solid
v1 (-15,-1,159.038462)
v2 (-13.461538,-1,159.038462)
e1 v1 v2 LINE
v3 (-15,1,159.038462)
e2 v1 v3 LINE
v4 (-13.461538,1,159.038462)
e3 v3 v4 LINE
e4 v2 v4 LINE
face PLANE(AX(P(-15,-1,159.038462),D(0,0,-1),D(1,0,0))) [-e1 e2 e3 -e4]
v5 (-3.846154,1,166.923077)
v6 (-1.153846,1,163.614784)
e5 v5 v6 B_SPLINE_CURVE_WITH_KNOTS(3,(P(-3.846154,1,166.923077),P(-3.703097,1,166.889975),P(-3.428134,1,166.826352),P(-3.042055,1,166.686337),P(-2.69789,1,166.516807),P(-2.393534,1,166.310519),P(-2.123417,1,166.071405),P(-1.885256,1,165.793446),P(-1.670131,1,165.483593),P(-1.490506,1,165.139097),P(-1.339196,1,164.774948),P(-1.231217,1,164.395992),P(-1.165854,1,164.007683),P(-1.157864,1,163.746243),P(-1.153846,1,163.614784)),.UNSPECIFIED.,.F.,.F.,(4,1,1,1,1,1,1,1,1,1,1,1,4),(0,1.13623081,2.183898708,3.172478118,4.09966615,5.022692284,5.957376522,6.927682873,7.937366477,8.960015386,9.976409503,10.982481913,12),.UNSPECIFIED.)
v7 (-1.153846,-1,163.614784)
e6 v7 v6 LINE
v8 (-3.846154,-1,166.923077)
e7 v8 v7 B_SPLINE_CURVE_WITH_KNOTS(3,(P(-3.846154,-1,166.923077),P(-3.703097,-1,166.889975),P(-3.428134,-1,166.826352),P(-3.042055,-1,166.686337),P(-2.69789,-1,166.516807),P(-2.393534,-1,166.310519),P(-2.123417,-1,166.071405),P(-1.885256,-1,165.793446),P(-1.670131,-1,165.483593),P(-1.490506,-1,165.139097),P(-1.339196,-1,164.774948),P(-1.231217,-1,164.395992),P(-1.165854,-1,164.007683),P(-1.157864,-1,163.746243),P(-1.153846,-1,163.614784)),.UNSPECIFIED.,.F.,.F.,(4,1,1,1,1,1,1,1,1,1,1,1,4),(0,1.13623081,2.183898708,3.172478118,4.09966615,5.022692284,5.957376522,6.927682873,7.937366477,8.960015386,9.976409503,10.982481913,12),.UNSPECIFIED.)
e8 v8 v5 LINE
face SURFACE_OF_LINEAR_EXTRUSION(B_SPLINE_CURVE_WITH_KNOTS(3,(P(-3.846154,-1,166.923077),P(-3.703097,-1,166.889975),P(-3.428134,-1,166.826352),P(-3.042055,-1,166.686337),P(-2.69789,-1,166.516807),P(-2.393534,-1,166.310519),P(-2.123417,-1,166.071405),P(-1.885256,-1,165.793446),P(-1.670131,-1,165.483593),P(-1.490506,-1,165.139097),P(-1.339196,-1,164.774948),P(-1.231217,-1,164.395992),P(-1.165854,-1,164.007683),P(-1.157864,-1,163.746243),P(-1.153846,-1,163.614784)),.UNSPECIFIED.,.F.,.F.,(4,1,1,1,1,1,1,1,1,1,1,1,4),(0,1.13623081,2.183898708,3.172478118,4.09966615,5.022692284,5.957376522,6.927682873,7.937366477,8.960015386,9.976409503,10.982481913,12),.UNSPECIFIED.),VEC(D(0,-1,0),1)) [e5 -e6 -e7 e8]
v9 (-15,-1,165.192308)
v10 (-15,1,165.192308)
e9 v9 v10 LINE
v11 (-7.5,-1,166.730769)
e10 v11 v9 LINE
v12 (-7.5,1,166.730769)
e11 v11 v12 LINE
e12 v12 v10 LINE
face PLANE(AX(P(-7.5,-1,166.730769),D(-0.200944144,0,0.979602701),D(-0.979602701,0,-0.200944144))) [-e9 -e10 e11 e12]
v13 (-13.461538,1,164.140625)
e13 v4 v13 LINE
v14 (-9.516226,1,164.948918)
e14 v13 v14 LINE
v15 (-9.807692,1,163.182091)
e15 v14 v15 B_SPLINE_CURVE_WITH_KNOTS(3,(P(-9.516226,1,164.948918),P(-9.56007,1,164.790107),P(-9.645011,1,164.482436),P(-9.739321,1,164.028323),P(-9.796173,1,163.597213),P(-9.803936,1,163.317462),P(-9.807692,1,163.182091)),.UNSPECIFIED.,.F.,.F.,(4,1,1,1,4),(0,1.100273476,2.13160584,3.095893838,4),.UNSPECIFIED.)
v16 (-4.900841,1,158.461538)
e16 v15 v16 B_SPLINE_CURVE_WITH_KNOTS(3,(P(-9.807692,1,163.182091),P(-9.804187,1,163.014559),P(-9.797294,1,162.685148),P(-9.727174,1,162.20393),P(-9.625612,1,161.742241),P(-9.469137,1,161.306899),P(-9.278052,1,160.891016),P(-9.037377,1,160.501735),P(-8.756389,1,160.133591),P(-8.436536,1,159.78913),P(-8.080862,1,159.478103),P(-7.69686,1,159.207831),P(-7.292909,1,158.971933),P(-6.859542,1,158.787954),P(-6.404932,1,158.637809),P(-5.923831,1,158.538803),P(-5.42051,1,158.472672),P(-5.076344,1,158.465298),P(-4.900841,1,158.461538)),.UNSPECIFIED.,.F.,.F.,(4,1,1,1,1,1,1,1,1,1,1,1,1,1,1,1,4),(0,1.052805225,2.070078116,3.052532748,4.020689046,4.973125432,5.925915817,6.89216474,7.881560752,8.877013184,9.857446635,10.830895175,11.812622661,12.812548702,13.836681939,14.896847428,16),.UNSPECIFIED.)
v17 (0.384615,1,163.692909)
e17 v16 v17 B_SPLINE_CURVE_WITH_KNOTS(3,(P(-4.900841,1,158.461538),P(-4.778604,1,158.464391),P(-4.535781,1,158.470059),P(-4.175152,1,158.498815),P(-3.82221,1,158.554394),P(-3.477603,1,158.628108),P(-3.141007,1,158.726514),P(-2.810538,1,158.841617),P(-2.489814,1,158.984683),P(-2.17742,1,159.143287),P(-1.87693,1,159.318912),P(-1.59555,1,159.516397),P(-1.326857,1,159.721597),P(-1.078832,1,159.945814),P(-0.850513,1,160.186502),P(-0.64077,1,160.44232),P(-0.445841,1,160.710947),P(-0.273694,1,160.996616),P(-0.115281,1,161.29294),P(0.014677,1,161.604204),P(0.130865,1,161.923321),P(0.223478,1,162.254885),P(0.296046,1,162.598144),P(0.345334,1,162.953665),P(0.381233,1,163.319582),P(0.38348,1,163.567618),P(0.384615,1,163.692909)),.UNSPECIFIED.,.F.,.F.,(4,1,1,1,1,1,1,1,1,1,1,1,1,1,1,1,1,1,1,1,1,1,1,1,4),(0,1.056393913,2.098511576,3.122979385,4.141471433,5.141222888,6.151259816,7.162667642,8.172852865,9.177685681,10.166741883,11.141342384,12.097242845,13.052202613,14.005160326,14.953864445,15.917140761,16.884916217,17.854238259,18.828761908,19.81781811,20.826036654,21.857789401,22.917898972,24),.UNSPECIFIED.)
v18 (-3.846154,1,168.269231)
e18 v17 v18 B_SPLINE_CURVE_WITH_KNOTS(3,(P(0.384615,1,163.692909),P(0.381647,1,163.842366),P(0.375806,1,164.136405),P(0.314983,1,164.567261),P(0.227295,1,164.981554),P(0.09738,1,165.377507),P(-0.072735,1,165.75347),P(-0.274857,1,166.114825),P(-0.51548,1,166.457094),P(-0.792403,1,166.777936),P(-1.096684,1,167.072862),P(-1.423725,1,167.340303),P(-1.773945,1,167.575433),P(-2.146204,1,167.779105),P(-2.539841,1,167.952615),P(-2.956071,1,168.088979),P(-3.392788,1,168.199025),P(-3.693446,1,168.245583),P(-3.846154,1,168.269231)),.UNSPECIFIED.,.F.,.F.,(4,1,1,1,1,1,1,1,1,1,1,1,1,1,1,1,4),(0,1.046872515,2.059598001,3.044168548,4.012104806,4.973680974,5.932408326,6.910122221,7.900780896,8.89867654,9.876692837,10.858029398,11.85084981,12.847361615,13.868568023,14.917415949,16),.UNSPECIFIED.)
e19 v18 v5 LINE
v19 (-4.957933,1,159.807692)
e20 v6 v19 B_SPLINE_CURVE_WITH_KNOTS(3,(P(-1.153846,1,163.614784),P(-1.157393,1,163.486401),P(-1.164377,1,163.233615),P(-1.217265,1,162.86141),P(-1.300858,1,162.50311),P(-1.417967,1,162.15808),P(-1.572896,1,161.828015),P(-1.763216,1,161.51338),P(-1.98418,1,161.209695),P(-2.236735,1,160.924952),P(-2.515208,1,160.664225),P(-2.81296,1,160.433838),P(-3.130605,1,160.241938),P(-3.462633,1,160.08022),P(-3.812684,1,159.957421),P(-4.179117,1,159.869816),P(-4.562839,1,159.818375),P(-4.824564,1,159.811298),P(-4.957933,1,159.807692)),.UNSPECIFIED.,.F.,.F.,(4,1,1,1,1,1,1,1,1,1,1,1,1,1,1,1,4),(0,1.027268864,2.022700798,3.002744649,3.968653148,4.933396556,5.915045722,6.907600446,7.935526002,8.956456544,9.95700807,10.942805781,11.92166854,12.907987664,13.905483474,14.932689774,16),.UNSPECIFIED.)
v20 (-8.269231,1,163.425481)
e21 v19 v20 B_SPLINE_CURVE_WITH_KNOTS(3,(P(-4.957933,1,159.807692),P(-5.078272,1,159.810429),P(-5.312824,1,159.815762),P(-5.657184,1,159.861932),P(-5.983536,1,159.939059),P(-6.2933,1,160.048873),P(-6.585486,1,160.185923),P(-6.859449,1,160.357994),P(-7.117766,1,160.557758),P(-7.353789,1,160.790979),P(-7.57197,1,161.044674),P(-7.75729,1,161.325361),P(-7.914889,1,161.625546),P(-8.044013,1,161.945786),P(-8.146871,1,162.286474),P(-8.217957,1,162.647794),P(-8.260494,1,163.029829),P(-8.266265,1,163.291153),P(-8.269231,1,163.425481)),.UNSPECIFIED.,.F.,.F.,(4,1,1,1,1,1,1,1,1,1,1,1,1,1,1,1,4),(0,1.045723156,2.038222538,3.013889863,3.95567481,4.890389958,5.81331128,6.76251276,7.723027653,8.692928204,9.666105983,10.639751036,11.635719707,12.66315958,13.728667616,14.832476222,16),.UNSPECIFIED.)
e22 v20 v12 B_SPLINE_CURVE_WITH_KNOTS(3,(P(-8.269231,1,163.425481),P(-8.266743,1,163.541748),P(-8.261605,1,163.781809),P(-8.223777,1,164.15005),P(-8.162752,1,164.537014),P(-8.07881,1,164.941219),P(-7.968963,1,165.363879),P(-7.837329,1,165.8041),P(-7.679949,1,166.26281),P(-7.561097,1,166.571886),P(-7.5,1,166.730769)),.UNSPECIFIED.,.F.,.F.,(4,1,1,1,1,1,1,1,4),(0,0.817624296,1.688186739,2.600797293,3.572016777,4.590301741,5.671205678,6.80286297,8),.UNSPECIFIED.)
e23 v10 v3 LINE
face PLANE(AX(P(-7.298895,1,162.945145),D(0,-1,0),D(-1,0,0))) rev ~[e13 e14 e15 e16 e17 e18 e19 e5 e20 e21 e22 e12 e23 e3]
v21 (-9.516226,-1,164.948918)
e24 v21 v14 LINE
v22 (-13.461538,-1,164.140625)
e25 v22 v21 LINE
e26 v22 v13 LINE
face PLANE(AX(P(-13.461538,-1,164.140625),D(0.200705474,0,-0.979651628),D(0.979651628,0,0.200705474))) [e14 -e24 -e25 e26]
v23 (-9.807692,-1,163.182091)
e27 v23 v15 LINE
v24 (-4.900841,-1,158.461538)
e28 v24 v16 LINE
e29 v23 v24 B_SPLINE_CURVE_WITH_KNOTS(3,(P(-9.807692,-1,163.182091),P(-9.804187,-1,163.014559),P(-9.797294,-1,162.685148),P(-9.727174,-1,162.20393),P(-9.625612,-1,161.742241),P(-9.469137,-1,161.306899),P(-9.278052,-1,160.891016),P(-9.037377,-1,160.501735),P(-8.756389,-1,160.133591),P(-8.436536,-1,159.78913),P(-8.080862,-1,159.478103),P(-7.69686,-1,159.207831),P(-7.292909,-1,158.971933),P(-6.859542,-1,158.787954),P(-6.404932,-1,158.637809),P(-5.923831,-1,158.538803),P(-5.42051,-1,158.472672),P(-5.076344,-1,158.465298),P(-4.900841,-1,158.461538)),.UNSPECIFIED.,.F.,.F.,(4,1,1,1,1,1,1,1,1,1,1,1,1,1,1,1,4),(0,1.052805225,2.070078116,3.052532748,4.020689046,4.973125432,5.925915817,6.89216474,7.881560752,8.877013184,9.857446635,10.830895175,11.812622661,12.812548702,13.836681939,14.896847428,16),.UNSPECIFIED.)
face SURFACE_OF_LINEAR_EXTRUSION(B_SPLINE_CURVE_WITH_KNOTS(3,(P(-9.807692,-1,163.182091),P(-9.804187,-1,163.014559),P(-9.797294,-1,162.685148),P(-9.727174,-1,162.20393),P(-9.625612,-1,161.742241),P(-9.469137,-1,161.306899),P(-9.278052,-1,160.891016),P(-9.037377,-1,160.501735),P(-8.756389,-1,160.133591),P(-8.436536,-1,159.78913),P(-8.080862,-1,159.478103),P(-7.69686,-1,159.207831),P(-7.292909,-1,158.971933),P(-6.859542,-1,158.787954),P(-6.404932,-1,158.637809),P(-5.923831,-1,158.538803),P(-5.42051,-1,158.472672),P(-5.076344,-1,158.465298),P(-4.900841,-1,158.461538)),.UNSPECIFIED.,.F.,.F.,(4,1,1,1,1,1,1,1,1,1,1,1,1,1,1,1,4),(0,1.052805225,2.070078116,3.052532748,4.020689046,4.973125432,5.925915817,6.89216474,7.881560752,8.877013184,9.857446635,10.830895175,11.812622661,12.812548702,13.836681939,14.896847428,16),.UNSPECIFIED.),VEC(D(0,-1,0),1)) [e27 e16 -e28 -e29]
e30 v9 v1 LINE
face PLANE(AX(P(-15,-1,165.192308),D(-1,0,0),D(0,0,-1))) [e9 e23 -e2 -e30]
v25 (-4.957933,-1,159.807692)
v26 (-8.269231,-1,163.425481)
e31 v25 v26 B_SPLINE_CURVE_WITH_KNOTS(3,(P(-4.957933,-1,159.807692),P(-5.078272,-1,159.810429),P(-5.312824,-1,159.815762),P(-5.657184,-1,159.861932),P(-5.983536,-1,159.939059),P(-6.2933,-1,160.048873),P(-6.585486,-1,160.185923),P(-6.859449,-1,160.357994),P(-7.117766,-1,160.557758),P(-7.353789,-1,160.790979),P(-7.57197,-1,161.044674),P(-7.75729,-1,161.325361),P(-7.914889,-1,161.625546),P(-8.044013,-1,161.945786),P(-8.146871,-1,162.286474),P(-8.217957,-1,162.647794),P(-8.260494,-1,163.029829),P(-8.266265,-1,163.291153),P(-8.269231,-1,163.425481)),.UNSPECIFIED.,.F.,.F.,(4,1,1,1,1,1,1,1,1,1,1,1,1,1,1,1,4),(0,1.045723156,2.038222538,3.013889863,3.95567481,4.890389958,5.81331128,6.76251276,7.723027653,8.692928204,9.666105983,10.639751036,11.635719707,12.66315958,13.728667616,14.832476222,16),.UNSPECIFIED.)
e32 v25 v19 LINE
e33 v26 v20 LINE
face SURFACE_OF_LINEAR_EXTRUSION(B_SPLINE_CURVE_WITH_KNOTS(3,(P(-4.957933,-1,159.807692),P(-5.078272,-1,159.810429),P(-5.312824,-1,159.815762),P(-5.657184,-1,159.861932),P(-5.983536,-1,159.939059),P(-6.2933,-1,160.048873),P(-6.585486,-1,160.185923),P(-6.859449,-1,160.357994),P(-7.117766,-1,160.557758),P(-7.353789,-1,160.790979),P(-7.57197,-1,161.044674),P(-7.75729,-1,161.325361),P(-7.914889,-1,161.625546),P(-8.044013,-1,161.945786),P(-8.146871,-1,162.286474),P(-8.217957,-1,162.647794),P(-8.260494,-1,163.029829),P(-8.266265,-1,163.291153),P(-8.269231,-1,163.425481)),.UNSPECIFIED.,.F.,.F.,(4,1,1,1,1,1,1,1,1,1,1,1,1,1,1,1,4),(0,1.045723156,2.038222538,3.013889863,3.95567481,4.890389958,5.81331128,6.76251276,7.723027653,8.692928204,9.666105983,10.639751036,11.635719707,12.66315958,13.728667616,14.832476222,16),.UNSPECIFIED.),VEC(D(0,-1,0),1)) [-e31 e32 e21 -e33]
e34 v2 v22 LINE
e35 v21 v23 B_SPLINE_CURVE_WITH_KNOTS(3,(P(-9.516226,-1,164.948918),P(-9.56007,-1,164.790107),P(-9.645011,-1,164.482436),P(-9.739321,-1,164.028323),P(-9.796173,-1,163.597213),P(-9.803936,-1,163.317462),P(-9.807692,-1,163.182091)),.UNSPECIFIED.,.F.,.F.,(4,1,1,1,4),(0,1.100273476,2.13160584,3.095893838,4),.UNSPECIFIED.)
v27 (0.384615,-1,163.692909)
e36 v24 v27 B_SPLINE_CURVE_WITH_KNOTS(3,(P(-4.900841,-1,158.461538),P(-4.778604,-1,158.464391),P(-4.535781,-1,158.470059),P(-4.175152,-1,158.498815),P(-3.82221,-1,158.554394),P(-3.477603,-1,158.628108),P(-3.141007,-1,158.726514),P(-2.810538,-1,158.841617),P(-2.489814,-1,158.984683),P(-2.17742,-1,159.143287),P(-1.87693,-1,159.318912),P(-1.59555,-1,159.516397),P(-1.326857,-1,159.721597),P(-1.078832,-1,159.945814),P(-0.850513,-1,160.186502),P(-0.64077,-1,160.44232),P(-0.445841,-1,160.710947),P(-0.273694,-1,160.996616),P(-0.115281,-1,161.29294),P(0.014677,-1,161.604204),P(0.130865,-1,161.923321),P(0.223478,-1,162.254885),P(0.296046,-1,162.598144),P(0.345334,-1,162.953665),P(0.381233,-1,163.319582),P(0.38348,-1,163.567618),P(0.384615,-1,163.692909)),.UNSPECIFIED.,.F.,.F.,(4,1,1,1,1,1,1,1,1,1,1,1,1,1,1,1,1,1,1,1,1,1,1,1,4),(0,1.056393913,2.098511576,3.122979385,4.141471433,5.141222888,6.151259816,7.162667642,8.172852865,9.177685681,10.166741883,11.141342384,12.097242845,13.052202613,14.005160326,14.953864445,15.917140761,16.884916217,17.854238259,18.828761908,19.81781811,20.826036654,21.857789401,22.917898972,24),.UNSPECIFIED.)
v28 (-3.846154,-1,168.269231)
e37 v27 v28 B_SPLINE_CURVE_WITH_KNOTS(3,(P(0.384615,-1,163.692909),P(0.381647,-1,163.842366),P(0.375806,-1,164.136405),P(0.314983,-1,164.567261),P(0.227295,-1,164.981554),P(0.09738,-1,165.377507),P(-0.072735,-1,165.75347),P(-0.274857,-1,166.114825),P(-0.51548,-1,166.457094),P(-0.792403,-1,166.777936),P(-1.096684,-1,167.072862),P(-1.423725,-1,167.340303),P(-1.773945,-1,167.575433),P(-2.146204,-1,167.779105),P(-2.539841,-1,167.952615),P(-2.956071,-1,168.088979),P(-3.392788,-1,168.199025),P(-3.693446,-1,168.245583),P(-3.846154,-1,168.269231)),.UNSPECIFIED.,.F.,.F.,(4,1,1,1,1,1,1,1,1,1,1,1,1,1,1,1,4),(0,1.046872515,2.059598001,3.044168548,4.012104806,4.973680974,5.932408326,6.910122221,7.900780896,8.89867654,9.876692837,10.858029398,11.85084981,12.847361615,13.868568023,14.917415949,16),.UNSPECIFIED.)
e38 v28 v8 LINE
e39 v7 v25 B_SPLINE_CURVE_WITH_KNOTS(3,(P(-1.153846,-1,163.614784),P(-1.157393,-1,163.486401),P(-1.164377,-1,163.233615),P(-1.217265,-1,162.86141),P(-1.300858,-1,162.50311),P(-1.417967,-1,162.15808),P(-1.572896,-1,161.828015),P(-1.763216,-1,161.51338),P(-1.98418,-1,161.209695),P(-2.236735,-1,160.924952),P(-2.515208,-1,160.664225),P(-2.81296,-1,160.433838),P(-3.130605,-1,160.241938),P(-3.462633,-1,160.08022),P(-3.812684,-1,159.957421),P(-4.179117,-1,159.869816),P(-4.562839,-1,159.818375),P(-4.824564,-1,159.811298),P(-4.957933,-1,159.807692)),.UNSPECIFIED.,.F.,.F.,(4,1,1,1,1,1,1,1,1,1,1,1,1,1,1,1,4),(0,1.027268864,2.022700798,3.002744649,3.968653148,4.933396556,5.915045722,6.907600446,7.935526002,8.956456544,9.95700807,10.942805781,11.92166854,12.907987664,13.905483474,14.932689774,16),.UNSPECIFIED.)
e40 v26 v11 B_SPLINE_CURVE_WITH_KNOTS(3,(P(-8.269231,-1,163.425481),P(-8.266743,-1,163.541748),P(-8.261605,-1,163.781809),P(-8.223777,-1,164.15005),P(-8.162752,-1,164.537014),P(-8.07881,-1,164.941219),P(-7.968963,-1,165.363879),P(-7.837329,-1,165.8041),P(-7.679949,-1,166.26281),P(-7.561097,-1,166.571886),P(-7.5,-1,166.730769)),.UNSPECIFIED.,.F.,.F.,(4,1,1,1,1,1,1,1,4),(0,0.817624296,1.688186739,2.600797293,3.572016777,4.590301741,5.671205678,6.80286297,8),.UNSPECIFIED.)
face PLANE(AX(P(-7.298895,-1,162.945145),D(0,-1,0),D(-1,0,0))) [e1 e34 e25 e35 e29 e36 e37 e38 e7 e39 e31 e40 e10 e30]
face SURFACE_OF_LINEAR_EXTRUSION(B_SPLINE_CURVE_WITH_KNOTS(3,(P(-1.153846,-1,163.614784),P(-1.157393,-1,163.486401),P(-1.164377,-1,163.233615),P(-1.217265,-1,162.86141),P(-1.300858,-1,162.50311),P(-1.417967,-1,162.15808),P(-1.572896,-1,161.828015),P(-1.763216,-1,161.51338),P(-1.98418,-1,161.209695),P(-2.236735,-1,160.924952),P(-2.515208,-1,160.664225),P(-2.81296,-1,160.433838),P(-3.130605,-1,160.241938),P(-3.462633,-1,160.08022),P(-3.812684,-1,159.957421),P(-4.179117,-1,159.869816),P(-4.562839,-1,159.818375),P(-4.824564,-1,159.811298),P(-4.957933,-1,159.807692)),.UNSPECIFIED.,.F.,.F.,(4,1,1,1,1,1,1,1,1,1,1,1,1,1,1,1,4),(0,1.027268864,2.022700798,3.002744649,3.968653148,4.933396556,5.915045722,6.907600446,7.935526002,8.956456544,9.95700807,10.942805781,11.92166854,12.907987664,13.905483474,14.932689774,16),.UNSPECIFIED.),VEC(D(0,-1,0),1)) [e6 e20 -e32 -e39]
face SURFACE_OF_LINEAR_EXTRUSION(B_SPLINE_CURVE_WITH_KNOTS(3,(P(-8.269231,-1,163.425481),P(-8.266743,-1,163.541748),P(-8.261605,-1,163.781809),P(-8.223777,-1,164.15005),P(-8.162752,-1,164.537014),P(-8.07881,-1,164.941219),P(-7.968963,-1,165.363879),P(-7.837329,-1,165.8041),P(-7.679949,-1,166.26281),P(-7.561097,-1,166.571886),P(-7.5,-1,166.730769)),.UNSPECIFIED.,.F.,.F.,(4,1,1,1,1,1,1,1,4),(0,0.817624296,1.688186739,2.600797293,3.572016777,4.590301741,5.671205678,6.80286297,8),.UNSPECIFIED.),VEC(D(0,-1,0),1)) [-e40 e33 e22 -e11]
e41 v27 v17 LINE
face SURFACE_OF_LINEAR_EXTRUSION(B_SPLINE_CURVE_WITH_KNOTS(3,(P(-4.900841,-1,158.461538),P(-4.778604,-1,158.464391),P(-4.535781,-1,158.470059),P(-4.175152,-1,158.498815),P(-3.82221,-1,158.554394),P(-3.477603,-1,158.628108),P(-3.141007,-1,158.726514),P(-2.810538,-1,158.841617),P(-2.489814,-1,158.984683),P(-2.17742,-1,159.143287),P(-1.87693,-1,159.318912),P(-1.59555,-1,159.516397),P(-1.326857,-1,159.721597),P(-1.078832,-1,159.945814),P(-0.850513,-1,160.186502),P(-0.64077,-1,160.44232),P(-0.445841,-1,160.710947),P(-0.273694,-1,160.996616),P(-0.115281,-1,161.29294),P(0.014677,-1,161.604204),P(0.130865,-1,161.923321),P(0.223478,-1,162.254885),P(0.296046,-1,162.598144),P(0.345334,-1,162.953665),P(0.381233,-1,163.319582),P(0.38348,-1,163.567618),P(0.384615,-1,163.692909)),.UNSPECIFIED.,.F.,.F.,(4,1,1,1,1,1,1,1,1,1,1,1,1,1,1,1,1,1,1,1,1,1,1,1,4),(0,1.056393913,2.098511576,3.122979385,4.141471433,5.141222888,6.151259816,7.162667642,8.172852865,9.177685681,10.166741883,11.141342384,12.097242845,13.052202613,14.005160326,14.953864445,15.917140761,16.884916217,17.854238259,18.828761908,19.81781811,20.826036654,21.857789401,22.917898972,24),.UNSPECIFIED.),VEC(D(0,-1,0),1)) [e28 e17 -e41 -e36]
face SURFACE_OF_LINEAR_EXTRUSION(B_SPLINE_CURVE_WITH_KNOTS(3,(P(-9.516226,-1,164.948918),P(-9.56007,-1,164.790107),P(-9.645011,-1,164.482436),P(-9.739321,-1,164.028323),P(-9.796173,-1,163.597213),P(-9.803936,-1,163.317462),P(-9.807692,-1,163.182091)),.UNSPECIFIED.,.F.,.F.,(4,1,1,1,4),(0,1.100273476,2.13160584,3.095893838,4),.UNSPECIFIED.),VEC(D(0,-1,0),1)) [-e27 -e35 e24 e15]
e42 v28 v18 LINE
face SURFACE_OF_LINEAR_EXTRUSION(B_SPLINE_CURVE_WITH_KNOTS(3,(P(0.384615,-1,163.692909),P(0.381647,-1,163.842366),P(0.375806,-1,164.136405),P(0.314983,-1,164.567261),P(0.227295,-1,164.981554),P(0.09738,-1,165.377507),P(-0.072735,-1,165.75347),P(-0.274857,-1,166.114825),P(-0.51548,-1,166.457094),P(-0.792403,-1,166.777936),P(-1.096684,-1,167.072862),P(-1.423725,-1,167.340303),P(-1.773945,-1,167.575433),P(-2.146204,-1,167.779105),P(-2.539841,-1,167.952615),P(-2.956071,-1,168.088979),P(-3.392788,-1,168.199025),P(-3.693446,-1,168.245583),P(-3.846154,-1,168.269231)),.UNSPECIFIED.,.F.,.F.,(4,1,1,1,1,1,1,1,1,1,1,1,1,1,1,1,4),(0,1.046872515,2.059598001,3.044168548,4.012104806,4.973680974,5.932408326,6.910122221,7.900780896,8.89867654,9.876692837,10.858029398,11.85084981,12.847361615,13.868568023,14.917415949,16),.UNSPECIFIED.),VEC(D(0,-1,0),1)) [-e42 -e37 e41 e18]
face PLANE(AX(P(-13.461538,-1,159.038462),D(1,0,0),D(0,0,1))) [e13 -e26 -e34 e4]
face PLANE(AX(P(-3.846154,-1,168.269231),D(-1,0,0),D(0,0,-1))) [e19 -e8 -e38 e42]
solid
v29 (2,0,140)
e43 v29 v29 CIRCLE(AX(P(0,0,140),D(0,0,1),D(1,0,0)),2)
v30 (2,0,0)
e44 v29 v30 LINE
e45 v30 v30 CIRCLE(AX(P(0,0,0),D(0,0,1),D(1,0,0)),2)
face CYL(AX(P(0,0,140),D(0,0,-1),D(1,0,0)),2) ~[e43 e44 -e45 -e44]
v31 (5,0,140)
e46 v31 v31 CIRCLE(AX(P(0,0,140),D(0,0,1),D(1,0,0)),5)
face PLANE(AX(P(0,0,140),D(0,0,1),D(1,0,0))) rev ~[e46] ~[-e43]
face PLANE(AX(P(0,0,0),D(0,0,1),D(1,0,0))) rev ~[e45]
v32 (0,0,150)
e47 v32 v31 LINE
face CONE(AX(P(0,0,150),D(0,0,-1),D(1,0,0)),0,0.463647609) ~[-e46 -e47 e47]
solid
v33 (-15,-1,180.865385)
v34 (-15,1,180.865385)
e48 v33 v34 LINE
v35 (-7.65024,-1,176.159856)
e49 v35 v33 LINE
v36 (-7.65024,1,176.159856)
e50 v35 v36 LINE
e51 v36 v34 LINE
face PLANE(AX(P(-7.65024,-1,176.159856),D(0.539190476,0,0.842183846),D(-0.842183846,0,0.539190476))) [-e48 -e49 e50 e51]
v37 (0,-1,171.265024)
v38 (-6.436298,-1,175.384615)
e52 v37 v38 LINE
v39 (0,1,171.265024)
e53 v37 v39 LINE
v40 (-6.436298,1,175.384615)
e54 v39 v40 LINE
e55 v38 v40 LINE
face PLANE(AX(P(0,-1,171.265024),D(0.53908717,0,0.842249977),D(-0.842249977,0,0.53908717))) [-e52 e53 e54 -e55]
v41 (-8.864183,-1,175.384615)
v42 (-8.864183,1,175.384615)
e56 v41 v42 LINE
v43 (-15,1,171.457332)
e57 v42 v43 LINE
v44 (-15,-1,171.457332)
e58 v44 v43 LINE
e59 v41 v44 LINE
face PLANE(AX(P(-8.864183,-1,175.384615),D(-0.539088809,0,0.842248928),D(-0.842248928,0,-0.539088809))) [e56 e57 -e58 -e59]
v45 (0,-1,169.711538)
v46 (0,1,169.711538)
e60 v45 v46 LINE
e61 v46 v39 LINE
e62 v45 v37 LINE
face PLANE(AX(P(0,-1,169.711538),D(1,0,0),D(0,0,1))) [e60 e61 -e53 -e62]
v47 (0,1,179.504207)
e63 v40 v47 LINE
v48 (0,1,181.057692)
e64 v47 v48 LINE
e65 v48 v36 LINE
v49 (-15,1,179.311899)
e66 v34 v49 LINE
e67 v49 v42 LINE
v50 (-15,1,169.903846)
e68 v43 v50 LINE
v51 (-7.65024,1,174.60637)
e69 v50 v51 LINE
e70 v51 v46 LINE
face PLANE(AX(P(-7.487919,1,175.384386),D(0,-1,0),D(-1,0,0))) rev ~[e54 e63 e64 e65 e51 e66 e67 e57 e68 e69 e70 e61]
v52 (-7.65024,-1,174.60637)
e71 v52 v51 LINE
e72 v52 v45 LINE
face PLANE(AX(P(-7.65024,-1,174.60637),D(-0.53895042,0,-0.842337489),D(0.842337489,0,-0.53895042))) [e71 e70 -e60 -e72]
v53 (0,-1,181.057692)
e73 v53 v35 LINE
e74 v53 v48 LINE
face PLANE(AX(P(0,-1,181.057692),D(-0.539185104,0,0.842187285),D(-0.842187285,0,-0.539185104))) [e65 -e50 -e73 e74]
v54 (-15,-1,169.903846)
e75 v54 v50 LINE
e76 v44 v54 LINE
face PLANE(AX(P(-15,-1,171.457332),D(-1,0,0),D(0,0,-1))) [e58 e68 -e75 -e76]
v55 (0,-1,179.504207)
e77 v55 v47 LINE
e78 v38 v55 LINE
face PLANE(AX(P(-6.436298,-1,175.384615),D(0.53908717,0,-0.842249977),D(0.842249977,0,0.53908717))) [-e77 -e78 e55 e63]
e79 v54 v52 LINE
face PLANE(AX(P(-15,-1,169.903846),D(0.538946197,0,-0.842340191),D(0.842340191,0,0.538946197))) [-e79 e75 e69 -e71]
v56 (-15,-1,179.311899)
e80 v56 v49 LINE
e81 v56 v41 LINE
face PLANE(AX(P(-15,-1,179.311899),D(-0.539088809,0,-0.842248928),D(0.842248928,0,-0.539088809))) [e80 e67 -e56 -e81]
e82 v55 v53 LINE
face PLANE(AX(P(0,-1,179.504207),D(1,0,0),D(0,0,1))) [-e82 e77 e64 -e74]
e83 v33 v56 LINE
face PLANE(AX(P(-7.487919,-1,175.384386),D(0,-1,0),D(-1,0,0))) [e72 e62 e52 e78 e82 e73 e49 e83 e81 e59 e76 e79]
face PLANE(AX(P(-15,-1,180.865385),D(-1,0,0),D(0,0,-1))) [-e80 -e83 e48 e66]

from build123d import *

# Parameters (mm, degrees)
BOSS_EXTRUDE1_DEPTH        = 1
BOSS_EXTRUDE1_DEPTH_BACK   = 1
BOSS_EXTRUDE1_2_DEPTH      = 1
BOSS_EXTRUDE1_2_DEPTH_BACK = 1


with BuildPart() as part:
    # Sketch2 → Revolve1 (revolve)
    with BuildSketch(Plane(origin=(0, 0, 0), x_dir=(1, 0, 0), z_dir=(0, 1, 0))):
        Polygon((0, -150), (5, -140), (2, -140), (2, 0), (0, 0), align=None)
    revolve(axis=Axis((0, 0, -41.949952025), (0, 0, 1)))


with BuildPart() as body_2:
    # Sketch3 → Boss-Extrude1 (new, two sides: drawn at the far end of the back side and taken through both)
    with BuildSketch(Plane(origin=(0, 0, 0), x_dir=(1, 0, 0), z_dir=(0, 1, 0)).offset(-BOSS_EXTRUDE1_DEPTH_BACK)):
        with BuildLine():
            Line((-15, -159.038461538), (-13.461538462, -159.038461538))
            Line((-13.461538462, -159.038461538), (-13.461538462, -164.140625))
            Line((-13.461538462, -164.140625), (-9.516225962, -164.948918269))
            add(Edge.make_bspline(
                [(-9.516225962, -164.948918269), (-9.560069984, -164.790107379), (-9.645010842, -164.482436397), (-9.739321287, -164.028322707), (-9.79617319, -163.597213264), (-9.803935949, -163.317461676), (-9.807692308, -163.182091346)],
                knots=[0, 0, 0, 0, 1.100273476, 2.13160584, 3.095893838, 4, 4, 4, 4], degree=3))
            add(Edge.make_bspline(
                [(-9.807692308, -163.182091346), (-9.804186599, -163.014558858), (-9.797293501, -162.685148127), (-9.727174227, -162.203929676), (-9.625612174, -161.742241094), (-9.469136601, -161.30689917), (-9.278052021, -160.891016359), (-9.037376819, -160.50173494), (-8.756389114, -160.133591337), (-8.436536051, -159.789129967), (-8.080861965, -159.478102832), (-7.696859719, -159.207830503), (-7.292908883, -158.971932896), (-6.859541679, -158.787953931), (-6.40493156, -158.637809151), (-5.923830784, -158.538803307), (-5.420510455, -158.472671692), (-5.076344015, -158.465298377), (-4.900841346, -158.461538462)],
                knots=[0, 0, 0, 0, 1.052805225, 2.070078116, 3.052532748, 4.020689046, 4.973125432, 5.925915817, 6.89216474, 7.881560752, 8.877013184, 9.857446635, 10.830895175, 11.812622661, 12.812548702, 13.836681939, 14.896847428, 16, 16, 16, 16], degree=3))
            add(Edge.make_bspline(
                [(-4.900841346, -158.461538462), (-4.778604023, -158.464391352), (-4.535781307, -158.470058578), (-4.175152107, -158.498814881), (-3.822210194, -158.554393705), (-3.477602628, -158.628108493), (-3.141006659, -158.726514095), (-2.810537702, -158.841617332), (-2.489814366, -158.984683039), (-2.177420147, -159.143287356), (-1.876930293, -159.318911746), (-1.595549591, -159.51639747), (-1.326856873, -159.721596515), (-1.078831903, -159.945814355), (-0.850512632, -160.186501755), (-0.640770308, -160.442319507), (-0.445840686, -160.710947305), (-0.273693897, -160.996616006), (-0.115280519, -161.292940019), (0.014677308, -161.604204053), (0.130865337, -161.923321274), (0.223477584, -162.254885045), (0.296045678, -162.598144237), (0.345333966, -162.953664705), (0.381232984, -163.319581862), (0.383480228, -163.56761763), (0.384615385, -163.692908654)],
                knots=[0, 0, 0, 0, 1.056393913, 2.098511576, 3.122979385, 4.141471433, 5.141222888, 6.151259816, 7.162667642, 8.172852865, 9.177685681, 10.166741883, 11.141342384, 12.097242845, 13.052202613, 14.005160326, 14.953864445, 15.917140761, 16.884916217, 17.854238259, 18.828761908, 19.81781811, 20.826036654, 21.857789401, 22.917898972, 24, 24, 24, 24], degree=3))
            add(Edge.make_bspline(
                [(0.384615385, -163.692908654), (0.381646688, -163.842365617), (0.375806128, -164.136404537), (0.314983266, -164.567261294), (0.227294847, -164.98155407), (0.097379703, -165.377507265), (-0.072734928, -165.75346953), (-0.274856842, -166.114824558), (-0.515479886, -166.457093514), (-0.792403166, -166.777936406), (-1.096683506, -167.072862145), (-1.423725263, -167.340302978), (-1.773944943, -167.575432851), (-2.146203734, -167.779104688), (-2.539841347, -167.95261453), (-2.956070668, -168.088979128), (-3.392788289, -168.199025207), (-3.693445734, -168.245583276), (-3.846153846, -168.269230769)],
                knots=[0, 0, 0, 0, 1.046872515, 2.059598001, 3.044168548, 4.012104806, 4.973680974, 5.932408326, 6.910122221, 7.900780896, 8.89867654, 9.876692837, 10.858029398, 11.85084981, 12.847361615, 13.868568023, 14.917415949, 16, 16, 16, 16], degree=3))
            Line((-3.846153846, -168.269230769), (-3.846153846, -166.923076923))
            add(Edge.make_bspline(
                [(-3.846153846, -166.923076923), (-3.703097014, -166.889975256), (-3.428133839, -166.826352013), (-3.042054853, -166.686337335), (-2.697889799, -166.516807482), (-2.393534398, -166.310519181), (-2.123417488, -166.071404628), (-1.885256014, -165.793446318), (-1.670131171, -165.483593118), (-1.490506155, -165.13909721), (-1.339196302, -164.774948369), (-1.231216621, -164.395992233), (-1.165854198, -164.007682718), (-1.1578639, -163.746242921), (-1.153846154, -163.614783654)],
                knots=[0, 0, 0, 0, 1.13623081, 2.183898708, 3.172478118, 4.09966615, 5.022692284, 5.957376522, 6.927682873, 7.937366477, 8.960015386, 9.976409503, 10.982481913, 12, 12, 12, 12], degree=3))
            add(Edge.make_bspline(
                [(-1.153846154, -163.614783654), (-1.157393206, -163.486401212), (-1.16437738, -163.233615134), (-1.217265273, -162.861410111), (-1.300858252, -162.503110451), (-1.417967227, -162.158080124), (-1.572895535, -161.828014544), (-1.763216032, -161.51338039), (-1.984180393, -161.209695419), (-2.236734594, -160.924952163), (-2.51520754, -160.664225413), (-2.812959591, -160.433838444), (-3.130605369, -160.241938327), (-3.462632597, -160.080220468), (-3.81268371, -159.957420683), (-4.179117276, -159.86981646), (-4.562838631, -159.818374784), (-4.824564243, -159.811298298), (-4.957932692, -159.807692308)],
                knots=[0, 0, 0, 0, 1.027268864, 2.022700798, 3.002744649, 3.968653148, 4.933396556, 5.915045722, 6.907600446, 7.935526002, 8.956456544, 9.95700807, 10.942805781, 11.92166854, 12.907987664, 13.905483474, 14.932689774, 16, 16, 16, 16], degree=3))
            add(Edge.make_bspline(
                [(-4.957932692, -159.807692308), (-5.078271566, -159.810428617), (-5.312824471, -159.815761966), (-5.657184407, -159.861932413), (-5.983536333, -159.939059418), (-6.293300258, -160.048872604), (-6.585485797, -160.18592297), (-6.859449051, -160.357993861), (-7.117765997, -160.557758345), (-7.35378905, -160.790978855), (-7.571970379, -161.044674492), (-7.757289776, -161.325361455), (-7.914888843, -161.625546446), (-8.044013421, -161.945785751), (-8.146871035, -162.286473834), (-8.217957334, -162.647794189), (-8.260494301, -163.029829166), (-8.266264657, -163.291153355), (-8.269230769, -163.425480769)],
                knots=[0, 0, 0, 0, 1.045723156, 2.038222538, 3.013889863, 3.95567481, 4.890389958, 5.81331128, 6.76251276, 7.723027653, 8.692928204, 9.666105983, 10.639751036, 11.635719707, 12.66315958, 13.728667616, 14.832476222, 16, 16, 16, 16], degree=3))
            add(Edge.make_bspline(
                [(-8.269230769, -163.425480769), (-8.266742521, -163.541747607), (-8.261604921, -163.78180913), (-8.223777077, -164.150049816), (-8.16275153, -164.537014343), (-8.078810469, -164.941219324), (-7.968962997, -165.363878644), (-7.837329423, -165.804100362), (-7.679949429, -166.262810076), (-7.561097084, -166.571886037), (-7.5, -166.730769231)],
                knots=[0, 0, 0, 0, 0.817624296, 1.688186739, 2.600797293, 3.572016777, 4.590301741, 5.671205678, 6.80286297, 8, 8, 8, 8], degree=3))
            Line((-7.5, -166.730769231), (-15, -165.192307692))
            Line((-15, -165.192307692), (-15, -159.038461538))
        make_face()
    extrude(amount=BOSS_EXTRUDE1_DEPTH + BOSS_EXTRUDE1_DEPTH_BACK)


with BuildPart() as body_3:
    # Sketch3 → Boss-Extrude1 2 (new, two sides: drawn at the far end of the back side and taken through both)
    with BuildSketch(Plane(origin=(0, 0, 0), x_dir=(1, 0, 0), z_dir=(0, 1, 0)).offset(-BOSS_EXTRUDE1_2_DEPTH_BACK)):
        Polygon((-15, -180.865384615), (-15, -179.311899038), (-8.864182692, -175.384615385), (-15, -171.457331731), (-15, -169.903846154), (-7.650240385, -174.606370192), (0, -169.711538462), (0, -171.265024038), (-6.436298077, -175.384615385), (0, -179.504206731), (0, -181.057692308), (-7.650240385, -176.159855769), align=None)
    extrude(amount=BOSS_EXTRUDE1_2_DEPTH + BOSS_EXTRUDE1_2_DEPTH_BACK)


solid = Compound([part.part, body_2.part, body_3.part])
